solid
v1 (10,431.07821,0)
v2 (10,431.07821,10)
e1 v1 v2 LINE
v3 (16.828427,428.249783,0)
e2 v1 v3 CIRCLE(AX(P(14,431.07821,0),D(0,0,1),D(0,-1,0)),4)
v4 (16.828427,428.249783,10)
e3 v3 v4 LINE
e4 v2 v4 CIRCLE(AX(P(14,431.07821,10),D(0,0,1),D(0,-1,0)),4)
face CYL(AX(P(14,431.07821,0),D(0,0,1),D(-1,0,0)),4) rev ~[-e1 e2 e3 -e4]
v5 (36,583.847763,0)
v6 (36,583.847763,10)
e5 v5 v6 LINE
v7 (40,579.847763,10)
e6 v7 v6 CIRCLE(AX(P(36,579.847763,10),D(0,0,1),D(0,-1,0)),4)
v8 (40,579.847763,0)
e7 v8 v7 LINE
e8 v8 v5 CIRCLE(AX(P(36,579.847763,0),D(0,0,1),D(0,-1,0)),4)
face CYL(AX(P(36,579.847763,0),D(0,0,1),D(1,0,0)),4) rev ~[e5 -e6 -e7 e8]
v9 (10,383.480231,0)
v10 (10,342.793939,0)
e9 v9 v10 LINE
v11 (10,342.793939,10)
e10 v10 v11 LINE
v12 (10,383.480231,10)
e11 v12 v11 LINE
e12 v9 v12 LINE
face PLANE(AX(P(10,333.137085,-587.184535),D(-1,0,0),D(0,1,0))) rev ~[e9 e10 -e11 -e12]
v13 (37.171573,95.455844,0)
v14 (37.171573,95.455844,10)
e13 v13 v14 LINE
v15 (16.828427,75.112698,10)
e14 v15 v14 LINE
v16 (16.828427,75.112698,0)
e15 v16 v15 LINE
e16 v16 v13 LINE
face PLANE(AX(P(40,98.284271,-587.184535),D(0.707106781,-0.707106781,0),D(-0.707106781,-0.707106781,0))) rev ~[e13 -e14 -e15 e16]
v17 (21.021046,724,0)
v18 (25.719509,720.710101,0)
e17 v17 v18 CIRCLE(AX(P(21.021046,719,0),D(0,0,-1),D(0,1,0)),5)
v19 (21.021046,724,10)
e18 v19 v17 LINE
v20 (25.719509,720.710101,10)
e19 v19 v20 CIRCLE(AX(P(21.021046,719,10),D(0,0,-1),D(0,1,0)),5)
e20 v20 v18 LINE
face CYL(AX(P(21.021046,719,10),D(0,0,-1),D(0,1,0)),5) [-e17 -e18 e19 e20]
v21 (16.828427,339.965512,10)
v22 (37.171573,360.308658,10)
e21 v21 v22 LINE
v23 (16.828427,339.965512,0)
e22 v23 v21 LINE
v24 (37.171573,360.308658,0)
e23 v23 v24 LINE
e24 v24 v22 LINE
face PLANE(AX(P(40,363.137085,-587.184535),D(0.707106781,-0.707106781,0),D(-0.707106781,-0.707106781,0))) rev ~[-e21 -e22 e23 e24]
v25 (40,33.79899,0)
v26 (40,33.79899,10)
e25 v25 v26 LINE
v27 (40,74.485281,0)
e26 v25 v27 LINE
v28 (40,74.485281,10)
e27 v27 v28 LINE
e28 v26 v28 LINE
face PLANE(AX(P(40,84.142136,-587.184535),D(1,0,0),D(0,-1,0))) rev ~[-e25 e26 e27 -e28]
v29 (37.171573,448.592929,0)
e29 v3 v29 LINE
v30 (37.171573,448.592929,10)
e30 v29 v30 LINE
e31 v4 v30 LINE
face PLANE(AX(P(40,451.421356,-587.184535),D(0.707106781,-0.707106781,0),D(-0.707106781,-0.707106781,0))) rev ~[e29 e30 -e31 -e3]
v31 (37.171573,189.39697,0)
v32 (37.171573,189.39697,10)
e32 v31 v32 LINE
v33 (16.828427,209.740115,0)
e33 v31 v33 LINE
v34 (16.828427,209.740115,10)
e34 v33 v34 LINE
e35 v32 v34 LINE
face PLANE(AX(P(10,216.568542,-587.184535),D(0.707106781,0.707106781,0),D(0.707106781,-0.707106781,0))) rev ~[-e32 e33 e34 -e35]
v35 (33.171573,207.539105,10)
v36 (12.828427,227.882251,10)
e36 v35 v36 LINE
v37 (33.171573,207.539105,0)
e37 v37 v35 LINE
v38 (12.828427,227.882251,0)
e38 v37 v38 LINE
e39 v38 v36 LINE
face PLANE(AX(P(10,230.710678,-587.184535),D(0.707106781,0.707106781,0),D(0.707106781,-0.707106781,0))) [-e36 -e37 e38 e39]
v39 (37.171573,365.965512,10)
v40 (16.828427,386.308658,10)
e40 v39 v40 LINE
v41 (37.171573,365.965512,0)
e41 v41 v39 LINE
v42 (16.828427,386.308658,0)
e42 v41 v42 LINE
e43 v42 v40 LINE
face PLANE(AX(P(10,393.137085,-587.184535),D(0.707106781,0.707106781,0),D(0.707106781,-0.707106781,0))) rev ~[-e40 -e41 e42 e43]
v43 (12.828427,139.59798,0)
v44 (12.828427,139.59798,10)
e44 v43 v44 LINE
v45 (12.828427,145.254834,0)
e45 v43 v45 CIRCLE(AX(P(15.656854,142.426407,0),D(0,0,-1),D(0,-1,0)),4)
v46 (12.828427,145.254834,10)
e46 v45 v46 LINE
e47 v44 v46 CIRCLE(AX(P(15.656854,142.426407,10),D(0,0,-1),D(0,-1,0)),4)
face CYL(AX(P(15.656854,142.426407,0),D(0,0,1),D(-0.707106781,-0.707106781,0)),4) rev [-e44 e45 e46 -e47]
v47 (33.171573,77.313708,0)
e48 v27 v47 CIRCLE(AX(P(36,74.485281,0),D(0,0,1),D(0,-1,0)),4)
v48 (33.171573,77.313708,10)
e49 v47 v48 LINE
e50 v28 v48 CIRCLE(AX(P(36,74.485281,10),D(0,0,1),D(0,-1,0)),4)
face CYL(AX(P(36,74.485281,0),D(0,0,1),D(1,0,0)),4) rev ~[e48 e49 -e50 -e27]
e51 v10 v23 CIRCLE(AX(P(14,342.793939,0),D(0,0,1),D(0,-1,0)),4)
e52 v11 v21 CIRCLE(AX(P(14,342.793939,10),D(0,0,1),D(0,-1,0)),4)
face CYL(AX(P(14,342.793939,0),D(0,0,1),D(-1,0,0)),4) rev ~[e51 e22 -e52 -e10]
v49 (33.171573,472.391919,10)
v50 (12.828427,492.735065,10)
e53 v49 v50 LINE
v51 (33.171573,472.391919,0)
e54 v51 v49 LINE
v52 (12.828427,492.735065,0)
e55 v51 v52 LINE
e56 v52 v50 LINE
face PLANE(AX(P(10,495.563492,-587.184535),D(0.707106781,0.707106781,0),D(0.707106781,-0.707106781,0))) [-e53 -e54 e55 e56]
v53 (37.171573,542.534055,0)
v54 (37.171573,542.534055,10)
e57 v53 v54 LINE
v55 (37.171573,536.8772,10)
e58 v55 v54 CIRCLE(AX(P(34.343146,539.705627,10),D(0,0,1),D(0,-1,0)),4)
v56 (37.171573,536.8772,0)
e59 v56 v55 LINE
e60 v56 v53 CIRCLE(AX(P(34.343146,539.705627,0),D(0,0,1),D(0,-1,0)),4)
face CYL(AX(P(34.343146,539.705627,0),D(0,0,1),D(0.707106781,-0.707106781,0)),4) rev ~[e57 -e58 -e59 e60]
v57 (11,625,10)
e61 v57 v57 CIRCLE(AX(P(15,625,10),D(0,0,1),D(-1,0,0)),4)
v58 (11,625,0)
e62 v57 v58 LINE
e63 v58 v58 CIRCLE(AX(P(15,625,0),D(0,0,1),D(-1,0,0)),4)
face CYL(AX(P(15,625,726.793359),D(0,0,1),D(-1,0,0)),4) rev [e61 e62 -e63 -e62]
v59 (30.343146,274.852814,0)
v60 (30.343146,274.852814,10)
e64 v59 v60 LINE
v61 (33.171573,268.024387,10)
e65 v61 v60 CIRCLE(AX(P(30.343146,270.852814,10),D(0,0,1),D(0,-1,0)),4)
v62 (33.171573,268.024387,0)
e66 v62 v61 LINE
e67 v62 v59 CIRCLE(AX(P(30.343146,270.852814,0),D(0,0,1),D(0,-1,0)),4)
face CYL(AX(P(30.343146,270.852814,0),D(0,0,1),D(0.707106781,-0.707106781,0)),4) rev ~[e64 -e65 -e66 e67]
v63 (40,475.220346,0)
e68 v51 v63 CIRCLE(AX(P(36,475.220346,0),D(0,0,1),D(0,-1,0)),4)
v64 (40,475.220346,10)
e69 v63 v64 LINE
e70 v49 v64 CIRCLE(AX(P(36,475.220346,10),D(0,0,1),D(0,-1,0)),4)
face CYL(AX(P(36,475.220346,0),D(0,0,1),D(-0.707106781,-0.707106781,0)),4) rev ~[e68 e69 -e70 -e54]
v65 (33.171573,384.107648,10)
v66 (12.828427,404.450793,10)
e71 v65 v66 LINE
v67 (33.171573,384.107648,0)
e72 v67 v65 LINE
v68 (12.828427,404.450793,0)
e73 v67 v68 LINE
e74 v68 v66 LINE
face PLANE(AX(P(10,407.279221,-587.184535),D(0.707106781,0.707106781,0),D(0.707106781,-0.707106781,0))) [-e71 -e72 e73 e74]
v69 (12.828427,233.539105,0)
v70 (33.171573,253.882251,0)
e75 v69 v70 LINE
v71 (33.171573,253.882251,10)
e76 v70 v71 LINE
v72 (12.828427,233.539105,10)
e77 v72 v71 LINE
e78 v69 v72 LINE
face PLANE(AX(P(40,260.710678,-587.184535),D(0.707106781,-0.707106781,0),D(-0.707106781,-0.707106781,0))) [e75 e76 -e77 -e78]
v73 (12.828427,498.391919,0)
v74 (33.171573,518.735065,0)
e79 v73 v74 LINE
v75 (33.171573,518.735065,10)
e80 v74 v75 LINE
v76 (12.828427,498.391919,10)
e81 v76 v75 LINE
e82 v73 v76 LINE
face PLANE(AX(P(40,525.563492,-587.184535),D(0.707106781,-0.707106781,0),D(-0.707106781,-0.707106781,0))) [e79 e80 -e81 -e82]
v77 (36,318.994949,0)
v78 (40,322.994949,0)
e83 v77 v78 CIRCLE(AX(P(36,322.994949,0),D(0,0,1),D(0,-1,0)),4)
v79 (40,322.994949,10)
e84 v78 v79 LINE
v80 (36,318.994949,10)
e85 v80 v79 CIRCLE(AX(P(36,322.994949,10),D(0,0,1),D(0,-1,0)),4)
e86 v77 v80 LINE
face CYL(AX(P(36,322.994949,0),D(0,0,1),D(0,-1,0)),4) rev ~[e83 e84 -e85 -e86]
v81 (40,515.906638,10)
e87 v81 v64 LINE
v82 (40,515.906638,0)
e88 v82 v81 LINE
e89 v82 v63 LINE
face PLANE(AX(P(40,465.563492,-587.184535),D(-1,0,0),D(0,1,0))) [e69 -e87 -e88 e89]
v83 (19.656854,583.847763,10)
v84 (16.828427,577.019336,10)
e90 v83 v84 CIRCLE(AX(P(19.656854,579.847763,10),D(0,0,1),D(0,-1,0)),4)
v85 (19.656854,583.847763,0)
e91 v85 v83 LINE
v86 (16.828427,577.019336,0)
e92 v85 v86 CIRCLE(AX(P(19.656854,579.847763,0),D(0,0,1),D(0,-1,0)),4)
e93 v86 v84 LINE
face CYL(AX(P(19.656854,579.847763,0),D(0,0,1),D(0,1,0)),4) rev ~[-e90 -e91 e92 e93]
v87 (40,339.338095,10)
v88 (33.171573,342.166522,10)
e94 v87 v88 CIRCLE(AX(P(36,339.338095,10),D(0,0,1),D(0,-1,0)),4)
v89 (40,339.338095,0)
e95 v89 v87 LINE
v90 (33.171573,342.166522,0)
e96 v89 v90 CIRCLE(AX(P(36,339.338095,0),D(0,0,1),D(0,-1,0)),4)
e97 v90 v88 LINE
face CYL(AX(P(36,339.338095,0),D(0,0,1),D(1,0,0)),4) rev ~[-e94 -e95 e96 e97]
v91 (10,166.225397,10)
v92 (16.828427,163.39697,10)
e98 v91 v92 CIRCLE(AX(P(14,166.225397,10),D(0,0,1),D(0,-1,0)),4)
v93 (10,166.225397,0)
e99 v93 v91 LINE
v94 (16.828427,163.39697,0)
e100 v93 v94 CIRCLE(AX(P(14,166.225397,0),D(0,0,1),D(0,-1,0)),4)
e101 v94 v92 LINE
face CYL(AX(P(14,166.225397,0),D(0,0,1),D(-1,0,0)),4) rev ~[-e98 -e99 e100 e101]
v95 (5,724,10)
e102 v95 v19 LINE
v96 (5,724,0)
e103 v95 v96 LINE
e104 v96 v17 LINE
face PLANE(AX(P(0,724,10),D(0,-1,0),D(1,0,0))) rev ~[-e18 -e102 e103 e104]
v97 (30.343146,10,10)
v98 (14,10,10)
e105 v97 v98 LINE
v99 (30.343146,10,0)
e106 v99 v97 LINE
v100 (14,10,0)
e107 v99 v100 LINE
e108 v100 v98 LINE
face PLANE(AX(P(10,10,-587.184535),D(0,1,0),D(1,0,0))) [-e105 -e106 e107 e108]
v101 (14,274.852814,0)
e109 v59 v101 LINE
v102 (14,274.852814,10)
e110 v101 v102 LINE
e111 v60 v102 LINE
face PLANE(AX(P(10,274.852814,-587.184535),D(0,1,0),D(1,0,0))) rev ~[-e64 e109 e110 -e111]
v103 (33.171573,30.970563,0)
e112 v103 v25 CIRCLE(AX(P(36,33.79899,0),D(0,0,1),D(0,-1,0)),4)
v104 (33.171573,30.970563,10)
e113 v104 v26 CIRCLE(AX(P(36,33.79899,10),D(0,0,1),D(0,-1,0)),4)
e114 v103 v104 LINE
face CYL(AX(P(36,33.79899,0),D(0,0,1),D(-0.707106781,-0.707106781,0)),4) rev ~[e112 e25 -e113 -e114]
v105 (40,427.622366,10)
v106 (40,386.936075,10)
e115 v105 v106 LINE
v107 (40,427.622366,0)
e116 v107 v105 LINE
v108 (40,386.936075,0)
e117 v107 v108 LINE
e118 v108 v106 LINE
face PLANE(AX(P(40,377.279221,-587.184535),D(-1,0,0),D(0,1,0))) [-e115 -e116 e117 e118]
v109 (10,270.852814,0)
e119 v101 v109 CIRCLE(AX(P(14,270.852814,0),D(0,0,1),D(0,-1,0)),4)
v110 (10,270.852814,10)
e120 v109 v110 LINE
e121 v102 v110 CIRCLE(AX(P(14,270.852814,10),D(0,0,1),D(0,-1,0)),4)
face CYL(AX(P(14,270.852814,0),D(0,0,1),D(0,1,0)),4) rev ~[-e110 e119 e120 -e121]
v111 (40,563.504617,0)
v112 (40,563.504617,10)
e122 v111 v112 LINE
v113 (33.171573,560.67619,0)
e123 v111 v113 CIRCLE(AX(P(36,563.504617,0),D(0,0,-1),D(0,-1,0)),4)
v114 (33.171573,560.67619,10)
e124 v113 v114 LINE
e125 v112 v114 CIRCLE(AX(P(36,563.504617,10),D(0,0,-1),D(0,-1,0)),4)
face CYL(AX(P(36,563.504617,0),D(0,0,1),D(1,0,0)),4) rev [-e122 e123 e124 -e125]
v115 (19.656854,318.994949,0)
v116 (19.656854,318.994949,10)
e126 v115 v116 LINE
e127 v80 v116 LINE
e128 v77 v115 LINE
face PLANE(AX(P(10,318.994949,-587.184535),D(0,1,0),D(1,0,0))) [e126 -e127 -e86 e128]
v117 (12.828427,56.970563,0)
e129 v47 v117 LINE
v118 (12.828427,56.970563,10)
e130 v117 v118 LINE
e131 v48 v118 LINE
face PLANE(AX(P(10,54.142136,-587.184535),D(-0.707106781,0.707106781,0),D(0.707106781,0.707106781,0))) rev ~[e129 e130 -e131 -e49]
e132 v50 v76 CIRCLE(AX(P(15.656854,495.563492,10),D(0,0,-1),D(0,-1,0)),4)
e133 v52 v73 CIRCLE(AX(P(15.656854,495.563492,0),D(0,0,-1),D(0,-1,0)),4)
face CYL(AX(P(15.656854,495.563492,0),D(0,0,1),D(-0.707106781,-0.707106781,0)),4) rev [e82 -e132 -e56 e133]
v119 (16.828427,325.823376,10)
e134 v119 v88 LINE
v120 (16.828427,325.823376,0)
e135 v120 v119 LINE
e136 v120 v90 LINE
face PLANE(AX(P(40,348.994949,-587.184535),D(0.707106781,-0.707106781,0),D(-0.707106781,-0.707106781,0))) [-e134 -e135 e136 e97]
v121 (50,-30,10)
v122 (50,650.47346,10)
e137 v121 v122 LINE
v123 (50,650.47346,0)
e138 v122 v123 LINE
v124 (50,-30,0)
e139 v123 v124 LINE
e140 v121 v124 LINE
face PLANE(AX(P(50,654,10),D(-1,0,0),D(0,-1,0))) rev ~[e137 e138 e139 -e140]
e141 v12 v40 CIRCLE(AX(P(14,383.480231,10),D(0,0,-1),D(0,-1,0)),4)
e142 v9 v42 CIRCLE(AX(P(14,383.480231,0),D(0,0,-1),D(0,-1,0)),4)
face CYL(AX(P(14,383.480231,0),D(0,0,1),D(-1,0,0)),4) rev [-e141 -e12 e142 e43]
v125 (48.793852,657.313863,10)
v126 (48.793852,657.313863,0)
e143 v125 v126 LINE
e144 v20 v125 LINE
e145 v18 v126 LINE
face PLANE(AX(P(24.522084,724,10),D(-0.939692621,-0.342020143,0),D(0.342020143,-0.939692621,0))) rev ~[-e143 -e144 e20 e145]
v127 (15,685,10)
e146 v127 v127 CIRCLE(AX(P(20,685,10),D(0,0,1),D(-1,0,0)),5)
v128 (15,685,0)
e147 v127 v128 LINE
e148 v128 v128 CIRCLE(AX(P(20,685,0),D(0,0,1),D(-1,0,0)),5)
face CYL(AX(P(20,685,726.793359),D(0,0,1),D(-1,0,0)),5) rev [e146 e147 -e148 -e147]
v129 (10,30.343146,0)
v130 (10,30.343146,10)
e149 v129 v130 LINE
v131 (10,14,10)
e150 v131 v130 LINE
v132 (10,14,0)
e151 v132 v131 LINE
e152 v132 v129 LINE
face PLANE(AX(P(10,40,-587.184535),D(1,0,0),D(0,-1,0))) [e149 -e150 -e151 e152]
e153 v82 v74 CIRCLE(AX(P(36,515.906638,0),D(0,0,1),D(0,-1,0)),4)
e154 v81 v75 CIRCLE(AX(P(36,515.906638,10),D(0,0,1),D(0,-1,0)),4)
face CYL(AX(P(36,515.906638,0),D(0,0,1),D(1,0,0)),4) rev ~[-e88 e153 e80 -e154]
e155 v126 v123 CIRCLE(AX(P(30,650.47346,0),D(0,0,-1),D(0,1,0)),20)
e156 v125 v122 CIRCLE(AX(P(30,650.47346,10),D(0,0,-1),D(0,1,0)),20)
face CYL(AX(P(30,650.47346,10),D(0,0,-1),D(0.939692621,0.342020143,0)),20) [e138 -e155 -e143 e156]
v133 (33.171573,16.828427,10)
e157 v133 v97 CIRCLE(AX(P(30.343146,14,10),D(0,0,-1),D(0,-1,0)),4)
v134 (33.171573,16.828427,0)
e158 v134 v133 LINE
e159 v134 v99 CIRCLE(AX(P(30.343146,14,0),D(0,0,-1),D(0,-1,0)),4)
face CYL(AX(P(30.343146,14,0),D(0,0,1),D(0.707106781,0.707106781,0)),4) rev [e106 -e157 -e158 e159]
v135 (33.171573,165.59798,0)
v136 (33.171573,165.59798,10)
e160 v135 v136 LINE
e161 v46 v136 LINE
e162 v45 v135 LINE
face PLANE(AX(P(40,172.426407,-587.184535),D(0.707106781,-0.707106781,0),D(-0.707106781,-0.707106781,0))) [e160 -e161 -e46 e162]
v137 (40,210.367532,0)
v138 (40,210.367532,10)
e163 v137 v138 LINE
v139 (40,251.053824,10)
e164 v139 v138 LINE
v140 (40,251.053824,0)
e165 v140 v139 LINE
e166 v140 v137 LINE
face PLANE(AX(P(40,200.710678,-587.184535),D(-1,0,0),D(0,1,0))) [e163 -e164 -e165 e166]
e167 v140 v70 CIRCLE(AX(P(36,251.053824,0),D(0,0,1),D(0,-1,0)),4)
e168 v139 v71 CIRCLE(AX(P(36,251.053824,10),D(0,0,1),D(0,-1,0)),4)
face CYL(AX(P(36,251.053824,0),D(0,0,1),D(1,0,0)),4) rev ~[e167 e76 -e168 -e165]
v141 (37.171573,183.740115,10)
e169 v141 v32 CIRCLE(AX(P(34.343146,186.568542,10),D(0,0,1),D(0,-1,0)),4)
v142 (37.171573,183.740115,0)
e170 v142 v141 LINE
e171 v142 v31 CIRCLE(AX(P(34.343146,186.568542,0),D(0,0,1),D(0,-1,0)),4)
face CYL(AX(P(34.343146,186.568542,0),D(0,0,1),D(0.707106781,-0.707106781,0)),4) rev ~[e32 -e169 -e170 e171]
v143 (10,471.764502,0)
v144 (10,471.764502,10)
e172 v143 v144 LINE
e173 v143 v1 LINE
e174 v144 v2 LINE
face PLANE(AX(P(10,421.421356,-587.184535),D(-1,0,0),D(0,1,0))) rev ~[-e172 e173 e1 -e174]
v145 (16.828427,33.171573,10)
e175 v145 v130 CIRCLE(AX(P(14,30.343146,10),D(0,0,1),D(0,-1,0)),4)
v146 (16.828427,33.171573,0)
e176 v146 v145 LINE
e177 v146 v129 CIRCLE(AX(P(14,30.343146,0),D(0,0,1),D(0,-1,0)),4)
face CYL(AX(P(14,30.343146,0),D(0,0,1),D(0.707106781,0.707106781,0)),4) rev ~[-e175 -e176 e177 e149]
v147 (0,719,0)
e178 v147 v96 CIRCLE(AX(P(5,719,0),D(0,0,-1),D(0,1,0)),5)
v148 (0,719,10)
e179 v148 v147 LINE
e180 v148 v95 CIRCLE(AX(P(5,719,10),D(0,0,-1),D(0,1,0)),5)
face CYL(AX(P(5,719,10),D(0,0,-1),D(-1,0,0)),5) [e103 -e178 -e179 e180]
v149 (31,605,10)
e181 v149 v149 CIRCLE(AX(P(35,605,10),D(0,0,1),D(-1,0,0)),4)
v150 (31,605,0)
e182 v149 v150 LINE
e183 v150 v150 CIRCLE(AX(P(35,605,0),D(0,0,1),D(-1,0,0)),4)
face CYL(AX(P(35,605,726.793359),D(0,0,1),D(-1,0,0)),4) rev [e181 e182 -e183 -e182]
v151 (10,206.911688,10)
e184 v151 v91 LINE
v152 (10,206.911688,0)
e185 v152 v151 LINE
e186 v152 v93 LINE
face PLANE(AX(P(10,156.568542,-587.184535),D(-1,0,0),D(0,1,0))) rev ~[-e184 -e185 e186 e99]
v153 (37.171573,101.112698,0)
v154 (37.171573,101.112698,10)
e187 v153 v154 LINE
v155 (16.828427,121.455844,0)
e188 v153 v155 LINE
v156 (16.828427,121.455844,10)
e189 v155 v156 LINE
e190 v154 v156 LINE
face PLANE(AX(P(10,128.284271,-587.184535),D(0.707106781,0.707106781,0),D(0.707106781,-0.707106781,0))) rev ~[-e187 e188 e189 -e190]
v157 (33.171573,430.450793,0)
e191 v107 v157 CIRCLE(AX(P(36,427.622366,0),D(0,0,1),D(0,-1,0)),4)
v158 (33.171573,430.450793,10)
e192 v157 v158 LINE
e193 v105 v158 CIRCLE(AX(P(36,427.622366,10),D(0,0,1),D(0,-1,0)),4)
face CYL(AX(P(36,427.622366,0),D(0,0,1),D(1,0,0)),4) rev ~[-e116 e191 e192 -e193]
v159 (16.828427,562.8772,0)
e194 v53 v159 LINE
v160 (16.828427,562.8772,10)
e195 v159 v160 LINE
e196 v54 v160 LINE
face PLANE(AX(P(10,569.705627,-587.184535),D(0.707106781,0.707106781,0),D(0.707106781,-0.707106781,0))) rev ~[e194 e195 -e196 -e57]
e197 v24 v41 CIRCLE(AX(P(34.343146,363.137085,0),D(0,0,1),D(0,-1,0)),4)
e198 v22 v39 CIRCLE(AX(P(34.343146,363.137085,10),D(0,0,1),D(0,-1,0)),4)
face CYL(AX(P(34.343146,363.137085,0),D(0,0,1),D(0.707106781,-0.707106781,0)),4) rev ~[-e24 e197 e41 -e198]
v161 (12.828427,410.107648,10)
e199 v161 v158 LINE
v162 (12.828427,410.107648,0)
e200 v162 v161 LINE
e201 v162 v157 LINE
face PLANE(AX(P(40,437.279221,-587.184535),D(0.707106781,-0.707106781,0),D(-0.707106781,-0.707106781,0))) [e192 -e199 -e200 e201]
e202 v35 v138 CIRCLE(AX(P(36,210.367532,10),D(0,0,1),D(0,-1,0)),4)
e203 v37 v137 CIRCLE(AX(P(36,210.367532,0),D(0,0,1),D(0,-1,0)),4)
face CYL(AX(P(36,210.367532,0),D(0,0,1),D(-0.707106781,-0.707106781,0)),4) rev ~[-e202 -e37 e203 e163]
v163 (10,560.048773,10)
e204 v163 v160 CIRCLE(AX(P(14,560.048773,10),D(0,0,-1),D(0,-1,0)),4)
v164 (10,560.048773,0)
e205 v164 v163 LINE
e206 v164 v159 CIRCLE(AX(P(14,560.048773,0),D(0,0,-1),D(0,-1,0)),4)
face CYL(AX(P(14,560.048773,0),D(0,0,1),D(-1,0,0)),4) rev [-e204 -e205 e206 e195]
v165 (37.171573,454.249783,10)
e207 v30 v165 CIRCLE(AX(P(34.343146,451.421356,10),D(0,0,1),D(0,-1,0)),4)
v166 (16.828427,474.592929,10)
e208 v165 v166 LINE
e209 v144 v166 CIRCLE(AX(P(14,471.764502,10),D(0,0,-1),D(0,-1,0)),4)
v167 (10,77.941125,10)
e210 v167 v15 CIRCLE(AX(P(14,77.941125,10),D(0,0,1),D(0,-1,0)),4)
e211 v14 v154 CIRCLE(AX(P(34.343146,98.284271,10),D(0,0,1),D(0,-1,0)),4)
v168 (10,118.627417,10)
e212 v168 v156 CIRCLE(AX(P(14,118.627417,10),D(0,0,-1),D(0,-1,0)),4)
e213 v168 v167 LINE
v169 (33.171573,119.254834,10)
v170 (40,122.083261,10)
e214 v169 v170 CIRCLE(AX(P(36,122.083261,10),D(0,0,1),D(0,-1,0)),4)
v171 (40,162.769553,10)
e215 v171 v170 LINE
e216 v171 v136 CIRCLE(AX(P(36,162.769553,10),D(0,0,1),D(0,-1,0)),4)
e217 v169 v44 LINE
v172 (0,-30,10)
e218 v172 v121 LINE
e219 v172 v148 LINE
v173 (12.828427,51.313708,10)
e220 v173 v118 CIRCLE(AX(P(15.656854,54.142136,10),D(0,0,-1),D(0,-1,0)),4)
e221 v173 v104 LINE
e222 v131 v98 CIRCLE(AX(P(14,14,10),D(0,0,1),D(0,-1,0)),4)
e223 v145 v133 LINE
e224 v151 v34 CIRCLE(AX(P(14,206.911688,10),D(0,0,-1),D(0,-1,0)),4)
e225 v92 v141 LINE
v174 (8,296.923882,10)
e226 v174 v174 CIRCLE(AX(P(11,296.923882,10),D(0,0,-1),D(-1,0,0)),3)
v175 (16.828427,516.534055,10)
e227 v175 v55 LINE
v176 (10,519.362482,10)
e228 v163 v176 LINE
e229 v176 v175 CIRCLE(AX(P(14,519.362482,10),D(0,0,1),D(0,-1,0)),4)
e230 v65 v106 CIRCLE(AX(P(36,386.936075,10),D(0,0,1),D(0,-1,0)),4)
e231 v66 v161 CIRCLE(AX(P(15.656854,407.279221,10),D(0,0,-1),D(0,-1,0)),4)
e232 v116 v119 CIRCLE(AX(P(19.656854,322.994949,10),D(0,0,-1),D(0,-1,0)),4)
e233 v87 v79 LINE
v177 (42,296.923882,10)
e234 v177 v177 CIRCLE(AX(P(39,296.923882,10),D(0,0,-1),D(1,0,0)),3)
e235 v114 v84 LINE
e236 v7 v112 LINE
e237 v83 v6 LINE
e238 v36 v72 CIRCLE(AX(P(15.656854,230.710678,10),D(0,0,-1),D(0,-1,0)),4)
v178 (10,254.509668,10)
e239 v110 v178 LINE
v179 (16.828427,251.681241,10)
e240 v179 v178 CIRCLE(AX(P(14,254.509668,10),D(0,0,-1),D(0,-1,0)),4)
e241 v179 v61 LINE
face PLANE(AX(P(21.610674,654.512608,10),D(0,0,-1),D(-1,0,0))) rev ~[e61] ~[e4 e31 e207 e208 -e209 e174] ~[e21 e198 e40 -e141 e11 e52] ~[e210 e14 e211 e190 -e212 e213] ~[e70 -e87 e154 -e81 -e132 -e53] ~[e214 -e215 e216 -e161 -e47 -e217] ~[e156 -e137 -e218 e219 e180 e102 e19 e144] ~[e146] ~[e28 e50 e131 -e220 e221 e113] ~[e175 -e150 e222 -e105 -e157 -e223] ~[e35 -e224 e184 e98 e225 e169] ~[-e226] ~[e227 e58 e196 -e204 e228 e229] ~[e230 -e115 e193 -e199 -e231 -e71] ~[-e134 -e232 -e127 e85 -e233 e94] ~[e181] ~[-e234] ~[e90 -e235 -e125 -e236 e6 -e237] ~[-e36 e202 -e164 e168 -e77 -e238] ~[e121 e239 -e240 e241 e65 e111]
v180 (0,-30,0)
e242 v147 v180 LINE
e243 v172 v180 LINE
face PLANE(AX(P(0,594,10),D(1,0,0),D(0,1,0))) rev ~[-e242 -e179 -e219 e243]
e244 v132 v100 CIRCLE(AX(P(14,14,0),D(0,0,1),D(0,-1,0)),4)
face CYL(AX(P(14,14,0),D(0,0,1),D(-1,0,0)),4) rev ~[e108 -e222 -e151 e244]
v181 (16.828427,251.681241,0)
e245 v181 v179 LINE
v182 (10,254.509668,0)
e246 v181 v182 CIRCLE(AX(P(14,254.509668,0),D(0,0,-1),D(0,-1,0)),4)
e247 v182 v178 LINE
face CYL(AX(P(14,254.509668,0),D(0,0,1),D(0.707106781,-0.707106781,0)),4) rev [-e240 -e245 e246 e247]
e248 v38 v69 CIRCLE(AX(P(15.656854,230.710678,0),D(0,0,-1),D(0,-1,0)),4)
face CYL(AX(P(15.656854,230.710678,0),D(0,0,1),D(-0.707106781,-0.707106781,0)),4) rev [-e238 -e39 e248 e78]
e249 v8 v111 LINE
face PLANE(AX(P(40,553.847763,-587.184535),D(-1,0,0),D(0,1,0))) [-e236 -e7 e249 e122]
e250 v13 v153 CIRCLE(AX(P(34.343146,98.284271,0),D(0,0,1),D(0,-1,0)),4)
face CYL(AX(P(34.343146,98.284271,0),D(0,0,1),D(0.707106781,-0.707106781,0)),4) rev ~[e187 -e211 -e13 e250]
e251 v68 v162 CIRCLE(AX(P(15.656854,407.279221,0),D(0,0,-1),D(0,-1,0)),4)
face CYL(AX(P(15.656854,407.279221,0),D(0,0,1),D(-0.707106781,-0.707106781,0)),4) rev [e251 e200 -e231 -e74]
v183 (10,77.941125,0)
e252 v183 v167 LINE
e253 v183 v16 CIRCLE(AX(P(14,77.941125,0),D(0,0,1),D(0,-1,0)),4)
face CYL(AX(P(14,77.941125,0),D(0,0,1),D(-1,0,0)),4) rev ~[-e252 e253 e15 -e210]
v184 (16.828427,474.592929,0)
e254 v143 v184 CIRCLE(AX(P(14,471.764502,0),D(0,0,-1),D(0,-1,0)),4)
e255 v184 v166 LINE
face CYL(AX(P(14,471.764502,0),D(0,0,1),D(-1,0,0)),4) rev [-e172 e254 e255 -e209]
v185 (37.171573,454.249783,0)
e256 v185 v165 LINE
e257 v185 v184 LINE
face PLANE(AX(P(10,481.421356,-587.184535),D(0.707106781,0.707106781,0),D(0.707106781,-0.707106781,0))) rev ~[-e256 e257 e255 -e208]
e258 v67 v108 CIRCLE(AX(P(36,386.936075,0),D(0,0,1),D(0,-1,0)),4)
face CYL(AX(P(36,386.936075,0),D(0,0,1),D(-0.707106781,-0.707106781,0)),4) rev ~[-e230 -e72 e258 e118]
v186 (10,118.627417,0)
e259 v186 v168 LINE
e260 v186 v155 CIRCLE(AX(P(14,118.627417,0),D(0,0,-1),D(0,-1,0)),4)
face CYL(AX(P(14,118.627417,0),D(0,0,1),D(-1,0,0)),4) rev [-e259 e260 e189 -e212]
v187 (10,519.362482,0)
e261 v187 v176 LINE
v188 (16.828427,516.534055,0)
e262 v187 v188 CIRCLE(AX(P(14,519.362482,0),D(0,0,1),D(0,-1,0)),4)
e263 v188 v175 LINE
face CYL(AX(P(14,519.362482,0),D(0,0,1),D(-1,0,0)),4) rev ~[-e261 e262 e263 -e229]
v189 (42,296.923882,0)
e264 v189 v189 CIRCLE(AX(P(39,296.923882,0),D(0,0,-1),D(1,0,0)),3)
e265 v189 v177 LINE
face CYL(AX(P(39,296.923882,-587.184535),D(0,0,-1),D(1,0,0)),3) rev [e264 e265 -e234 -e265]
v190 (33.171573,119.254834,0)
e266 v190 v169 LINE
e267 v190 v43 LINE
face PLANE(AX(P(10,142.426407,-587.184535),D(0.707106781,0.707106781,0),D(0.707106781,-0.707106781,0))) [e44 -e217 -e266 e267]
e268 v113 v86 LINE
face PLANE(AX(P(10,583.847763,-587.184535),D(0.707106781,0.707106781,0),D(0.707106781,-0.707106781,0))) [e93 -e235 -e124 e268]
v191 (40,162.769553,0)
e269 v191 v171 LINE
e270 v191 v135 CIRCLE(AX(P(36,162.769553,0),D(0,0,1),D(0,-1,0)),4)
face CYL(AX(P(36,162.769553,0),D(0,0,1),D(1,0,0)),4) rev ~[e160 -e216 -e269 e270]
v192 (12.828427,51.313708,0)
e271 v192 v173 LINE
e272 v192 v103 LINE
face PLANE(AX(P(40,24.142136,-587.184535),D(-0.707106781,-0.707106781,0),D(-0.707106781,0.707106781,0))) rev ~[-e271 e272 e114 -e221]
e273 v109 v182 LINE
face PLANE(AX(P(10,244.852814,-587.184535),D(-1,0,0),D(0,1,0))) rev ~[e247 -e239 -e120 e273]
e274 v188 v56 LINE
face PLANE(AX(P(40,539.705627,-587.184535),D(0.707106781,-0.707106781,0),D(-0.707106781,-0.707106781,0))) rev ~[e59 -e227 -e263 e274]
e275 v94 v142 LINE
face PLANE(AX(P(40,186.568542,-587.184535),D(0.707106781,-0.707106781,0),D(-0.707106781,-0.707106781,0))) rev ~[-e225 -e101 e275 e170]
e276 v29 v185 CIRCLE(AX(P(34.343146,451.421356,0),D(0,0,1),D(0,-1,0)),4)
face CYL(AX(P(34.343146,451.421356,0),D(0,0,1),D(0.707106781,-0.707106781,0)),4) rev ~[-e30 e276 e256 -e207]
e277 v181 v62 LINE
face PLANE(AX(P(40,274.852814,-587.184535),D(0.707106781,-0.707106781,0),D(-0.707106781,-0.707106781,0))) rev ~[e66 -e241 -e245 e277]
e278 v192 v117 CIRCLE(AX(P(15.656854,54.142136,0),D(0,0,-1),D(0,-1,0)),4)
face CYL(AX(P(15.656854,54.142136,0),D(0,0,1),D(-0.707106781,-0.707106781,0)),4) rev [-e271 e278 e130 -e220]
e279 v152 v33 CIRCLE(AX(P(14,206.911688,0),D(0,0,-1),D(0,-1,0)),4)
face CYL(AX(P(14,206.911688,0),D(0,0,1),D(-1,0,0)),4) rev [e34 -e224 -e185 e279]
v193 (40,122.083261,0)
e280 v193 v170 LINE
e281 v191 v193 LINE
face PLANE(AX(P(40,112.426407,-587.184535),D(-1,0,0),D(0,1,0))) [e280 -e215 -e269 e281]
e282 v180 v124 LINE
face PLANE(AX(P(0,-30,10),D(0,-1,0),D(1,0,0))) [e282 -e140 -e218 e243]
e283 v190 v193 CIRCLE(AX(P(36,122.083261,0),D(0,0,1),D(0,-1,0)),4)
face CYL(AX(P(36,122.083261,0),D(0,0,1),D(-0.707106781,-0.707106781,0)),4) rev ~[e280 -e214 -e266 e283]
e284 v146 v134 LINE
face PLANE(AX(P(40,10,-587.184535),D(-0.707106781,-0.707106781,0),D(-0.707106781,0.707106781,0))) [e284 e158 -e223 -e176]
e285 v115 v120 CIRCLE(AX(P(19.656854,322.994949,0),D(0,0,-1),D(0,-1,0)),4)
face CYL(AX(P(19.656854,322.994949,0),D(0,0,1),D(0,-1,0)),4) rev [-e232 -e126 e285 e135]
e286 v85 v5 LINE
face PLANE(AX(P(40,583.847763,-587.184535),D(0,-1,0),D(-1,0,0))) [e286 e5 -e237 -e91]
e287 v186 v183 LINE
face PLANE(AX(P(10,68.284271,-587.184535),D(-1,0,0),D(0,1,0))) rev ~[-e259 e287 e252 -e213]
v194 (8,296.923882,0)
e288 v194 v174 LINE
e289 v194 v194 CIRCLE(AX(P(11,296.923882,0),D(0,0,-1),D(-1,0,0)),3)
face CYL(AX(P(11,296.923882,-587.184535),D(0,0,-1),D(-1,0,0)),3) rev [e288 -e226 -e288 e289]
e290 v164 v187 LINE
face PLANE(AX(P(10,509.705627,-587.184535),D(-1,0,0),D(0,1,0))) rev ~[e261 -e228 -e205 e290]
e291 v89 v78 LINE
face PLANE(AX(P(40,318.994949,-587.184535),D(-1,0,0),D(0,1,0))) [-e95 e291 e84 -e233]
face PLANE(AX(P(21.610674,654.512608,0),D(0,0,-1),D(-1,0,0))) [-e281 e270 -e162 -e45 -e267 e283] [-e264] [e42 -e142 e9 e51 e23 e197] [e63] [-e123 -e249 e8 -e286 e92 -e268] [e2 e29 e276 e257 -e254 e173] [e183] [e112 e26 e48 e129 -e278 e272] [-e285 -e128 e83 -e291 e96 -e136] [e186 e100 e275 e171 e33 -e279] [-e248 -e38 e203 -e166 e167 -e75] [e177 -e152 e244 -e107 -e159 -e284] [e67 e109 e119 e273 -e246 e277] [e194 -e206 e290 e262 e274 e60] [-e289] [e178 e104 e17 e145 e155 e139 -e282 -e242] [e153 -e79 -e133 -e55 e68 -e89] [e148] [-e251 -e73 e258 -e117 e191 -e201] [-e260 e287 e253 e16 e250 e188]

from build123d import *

# Parameters (mm, degrees)
ESQUISSE1_W                  = 50
ESQUISSE1_H                  = 594
BOSS_EXTRU_1_DEPTH           = 10
ENL_V_MAT_EXTRU_1_DEPTH      = 597.18453519
ENL_V_MAT_EXTRU_1_DEPTH_BACK = 597.18453519
CONG_1_R                     = 4
ESQUISSE3_W                  = 50
ESQUISSE3_H                  = 30
BOSS_EXTRU_2_DEPTH           = 10
ENL_V_MAT_EXTRU_2_DEPTH      = 597.18453519
ENL_V_MAT_EXTRU_2_DEPTH_BACK = 597.18453519
ESQUISSE4_R                  = 3
BOSS_EXTRU_3_DEPTH           = 10
ENL_V_MAT_EXTRU_3_DEPTH      = 726.793359022
ENL_V_MAT_EXTRU_3_DEPTH_BACK = 726.793359022
ESQUISSE6_R                  = 4
ESQUISSE6_R_2                = 5
CONG_2_R                     = 5
CONG_3_R                     = 20


with BuildPart() as part:
    # Esquisse1 → Boss.-Extru.1 (new body)
    with BuildSketch(Plane.XY):
        with Locations((25, 297)):
            Rectangle(ESQUISSE1_W, ESQUISSE1_H)
    extrude(amount=BOSS_EXTRU_1_DEPTH)

    # Esquisse2 → Enlèv. mat.-Extru.1 (cut, two sides: drawn at the far end of the back side and taken through both)
    with BuildSketch(Plane.XY.offset(10).offset(-ENL_V_MAT_EXTRU_1_DEPTH_BACK)):
        Polygon((10, 10), (40, 10), (10, 40), align=None)
        Polygon((40, 24.142135624), (10, 54.142135624), (40, 84.142135624), align=None)
        Polygon((10, 68.284271247), (10, 128.284271247), (40, 98.284271247), align=None)
        Polygon((40, 172.426406871), (10, 142.426406871), (40, 112.426406871), align=None)
        Polygon((10, 156.568542495), (10, 216.568542495), (40, 186.568542495), align=None)
        Polygon((40, 260.710678119), (10, 230.710678119), (40, 200.710678119), align=None)
        Polygon((40, 274.852813742), (10, 244.852813742), (10, 274.852813742), align=None)
        Polygon((40, 348.994949366), (10, 318.994949366), (40, 318.994949366), align=None)
        Polygon((10, 333.13708499), (10, 393.13708499), (40, 363.13708499), align=None)
        Polygon((40, 437.279220614), (10, 407.279220614), (40, 377.279220614), align=None)
        Polygon((10, 421.421356237), (10, 481.421356237), (40, 451.421356237), align=None)
        Polygon((40, 525.563491861), (10, 495.563491861), (40, 465.563491861), align=None)
        Polygon((10, 509.705627485), (10, 569.705627485), (40, 539.705627485), align=None)
        Polygon((10, 583.847763109), (40, 553.847763109), (40, 583.847763109), align=None)
    extrude(amount=ENL_V_MAT_EXTRU_1_DEPTH + ENL_V_MAT_EXTRU_1_DEPTH_BACK, mode=Mode.SUBTRACT)

    # Congé1
    cong_1_edges = [part.edges().sort_by_distance(p)[0] for p in [
        (40, 112.426406871, 5),
        (10, 142.426406871, 5),
        (40, 172.426406871, 5),
        (40, 539.705627485, 5),
        (10, 509.705627485, 5),
        (10, 569.705627485, 5),
        (40, 377.279220614, 5),
        (10, 407.279220614, 5),
        (40, 437.279220614, 5),
        (40, 363.13708499, 5),
        (10, 333.13708499, 5),
        (10, 393.13708499, 5),
        (40, 465.563491861, 5),
        (10, 495.563491861, 5),
        (40, 525.563491861, 5),
        (40, 451.421356237, 5),
        (10, 421.421356237, 5),
        (10, 481.421356237, 5),
        (10, 10, 5),
        (10, 40, 5),
        (40, 10, 5),
        (40, 200.710678119, 5),
        (10, 230.710678119, 5),
        (40, 260.710678119, 5),
        (40, 186.568542495, 5),
        (10, 156.568542495, 5),
        (10, 216.568542495, 5),
        (10, 244.852813742, 5),
        (10, 274.852813742, 5),
        (40, 274.852813742, 5),
        (40, 318.994949366, 5),
        (10, 318.994949366, 5),
        (40, 348.994949366, 5),
        (40, 98.284271247, 5),
        (10, 68.284271247, 5),
        (10, 128.284271247, 5),
        (40, 84.142135624, 5),
        (40, 24.142135624, 5),
        (10, 54.142135624, 5),
        (10, 583.847763109, 5),
        (40, 583.847763109, 5),
        (40, 553.847763109, 5),
    ]]
    fillet(cong_1_edges, radius=CONG_1_R)

    # Esquisse3 → Boss.-Extru.2 (add)
    with BuildSketch(Plane.XY.offset(10)):
        with Locations((25, -15)):
            Rectangle(ESQUISSE3_W, ESQUISSE3_H)
    extrude(amount=-BOSS_EXTRU_2_DEPTH)

    # Esquisse4 → Enlèv. mat.-Extru.2 (cut, two sides: drawn at the far end of the back side and taken through both)
    with BuildSketch(Plane.XY.offset(10).offset(-ENL_V_MAT_EXTRU_2_DEPTH_BACK)):
        with Locations((39, 296.923881554)):
            Circle(ESQUISSE4_R)
        with Locations(Location((11, 296.923881554, 0), (0, 0, 180))):
            Circle(ESQUISSE4_R)
    extrude(amount=ENL_V_MAT_EXTRU_2_DEPTH + ENL_V_MAT_EXTRU_2_DEPTH_BACK, mode=Mode.SUBTRACT)

    # Esquisse5 → Boss.-Extru.3 (add)
    with BuildSketch(Plane.XY.offset(10)):
        Polygon((50, 594), (0, 594), (0, 724), (24.522083601, 724), (50, 654), align=None)
    extrude(amount=-BOSS_EXTRU_3_DEPTH)

    # Esquisse6 → Enlèv. mat.-Extru.3 (cut, two sides: drawn at the far end of the back side and taken through both)
    with BuildSketch(Plane(origin=(0, 0, 0), x_dir=(-1, 0, 0), z_dir=(0, 0, -1)).offset(-ENL_V_MAT_EXTRU_3_DEPTH_BACK)):
        with Locations((-15, 625)):
            Circle(ESQUISSE6_R)
        with Locations((-35, 605)):
            Circle(ESQUISSE6_R)
        with Locations((-20, 685)):
            Circle(ESQUISSE6_R_2)
    extrude(amount=ENL_V_MAT_EXTRU_3_DEPTH + ENL_V_MAT_EXTRU_3_DEPTH_BACK, mode=Mode.SUBTRACT)

    # Congé2
    cong_2_edges = [part.edges().sort_by_distance(p)[0] for p in [
        (0, 724, 5),
        (24.522083601, 724, 5),
    ]]
    fillet(cong_2_edges, radius=CONG_2_R)

    # Congé3
    cong_3_edges = [part.edges().sort_by_distance(p)[0] for p in [
        (50, 654, 5),
    ]]
    fillet(cong_3_edges, radius=CONG_3_R)


solid = part.part
